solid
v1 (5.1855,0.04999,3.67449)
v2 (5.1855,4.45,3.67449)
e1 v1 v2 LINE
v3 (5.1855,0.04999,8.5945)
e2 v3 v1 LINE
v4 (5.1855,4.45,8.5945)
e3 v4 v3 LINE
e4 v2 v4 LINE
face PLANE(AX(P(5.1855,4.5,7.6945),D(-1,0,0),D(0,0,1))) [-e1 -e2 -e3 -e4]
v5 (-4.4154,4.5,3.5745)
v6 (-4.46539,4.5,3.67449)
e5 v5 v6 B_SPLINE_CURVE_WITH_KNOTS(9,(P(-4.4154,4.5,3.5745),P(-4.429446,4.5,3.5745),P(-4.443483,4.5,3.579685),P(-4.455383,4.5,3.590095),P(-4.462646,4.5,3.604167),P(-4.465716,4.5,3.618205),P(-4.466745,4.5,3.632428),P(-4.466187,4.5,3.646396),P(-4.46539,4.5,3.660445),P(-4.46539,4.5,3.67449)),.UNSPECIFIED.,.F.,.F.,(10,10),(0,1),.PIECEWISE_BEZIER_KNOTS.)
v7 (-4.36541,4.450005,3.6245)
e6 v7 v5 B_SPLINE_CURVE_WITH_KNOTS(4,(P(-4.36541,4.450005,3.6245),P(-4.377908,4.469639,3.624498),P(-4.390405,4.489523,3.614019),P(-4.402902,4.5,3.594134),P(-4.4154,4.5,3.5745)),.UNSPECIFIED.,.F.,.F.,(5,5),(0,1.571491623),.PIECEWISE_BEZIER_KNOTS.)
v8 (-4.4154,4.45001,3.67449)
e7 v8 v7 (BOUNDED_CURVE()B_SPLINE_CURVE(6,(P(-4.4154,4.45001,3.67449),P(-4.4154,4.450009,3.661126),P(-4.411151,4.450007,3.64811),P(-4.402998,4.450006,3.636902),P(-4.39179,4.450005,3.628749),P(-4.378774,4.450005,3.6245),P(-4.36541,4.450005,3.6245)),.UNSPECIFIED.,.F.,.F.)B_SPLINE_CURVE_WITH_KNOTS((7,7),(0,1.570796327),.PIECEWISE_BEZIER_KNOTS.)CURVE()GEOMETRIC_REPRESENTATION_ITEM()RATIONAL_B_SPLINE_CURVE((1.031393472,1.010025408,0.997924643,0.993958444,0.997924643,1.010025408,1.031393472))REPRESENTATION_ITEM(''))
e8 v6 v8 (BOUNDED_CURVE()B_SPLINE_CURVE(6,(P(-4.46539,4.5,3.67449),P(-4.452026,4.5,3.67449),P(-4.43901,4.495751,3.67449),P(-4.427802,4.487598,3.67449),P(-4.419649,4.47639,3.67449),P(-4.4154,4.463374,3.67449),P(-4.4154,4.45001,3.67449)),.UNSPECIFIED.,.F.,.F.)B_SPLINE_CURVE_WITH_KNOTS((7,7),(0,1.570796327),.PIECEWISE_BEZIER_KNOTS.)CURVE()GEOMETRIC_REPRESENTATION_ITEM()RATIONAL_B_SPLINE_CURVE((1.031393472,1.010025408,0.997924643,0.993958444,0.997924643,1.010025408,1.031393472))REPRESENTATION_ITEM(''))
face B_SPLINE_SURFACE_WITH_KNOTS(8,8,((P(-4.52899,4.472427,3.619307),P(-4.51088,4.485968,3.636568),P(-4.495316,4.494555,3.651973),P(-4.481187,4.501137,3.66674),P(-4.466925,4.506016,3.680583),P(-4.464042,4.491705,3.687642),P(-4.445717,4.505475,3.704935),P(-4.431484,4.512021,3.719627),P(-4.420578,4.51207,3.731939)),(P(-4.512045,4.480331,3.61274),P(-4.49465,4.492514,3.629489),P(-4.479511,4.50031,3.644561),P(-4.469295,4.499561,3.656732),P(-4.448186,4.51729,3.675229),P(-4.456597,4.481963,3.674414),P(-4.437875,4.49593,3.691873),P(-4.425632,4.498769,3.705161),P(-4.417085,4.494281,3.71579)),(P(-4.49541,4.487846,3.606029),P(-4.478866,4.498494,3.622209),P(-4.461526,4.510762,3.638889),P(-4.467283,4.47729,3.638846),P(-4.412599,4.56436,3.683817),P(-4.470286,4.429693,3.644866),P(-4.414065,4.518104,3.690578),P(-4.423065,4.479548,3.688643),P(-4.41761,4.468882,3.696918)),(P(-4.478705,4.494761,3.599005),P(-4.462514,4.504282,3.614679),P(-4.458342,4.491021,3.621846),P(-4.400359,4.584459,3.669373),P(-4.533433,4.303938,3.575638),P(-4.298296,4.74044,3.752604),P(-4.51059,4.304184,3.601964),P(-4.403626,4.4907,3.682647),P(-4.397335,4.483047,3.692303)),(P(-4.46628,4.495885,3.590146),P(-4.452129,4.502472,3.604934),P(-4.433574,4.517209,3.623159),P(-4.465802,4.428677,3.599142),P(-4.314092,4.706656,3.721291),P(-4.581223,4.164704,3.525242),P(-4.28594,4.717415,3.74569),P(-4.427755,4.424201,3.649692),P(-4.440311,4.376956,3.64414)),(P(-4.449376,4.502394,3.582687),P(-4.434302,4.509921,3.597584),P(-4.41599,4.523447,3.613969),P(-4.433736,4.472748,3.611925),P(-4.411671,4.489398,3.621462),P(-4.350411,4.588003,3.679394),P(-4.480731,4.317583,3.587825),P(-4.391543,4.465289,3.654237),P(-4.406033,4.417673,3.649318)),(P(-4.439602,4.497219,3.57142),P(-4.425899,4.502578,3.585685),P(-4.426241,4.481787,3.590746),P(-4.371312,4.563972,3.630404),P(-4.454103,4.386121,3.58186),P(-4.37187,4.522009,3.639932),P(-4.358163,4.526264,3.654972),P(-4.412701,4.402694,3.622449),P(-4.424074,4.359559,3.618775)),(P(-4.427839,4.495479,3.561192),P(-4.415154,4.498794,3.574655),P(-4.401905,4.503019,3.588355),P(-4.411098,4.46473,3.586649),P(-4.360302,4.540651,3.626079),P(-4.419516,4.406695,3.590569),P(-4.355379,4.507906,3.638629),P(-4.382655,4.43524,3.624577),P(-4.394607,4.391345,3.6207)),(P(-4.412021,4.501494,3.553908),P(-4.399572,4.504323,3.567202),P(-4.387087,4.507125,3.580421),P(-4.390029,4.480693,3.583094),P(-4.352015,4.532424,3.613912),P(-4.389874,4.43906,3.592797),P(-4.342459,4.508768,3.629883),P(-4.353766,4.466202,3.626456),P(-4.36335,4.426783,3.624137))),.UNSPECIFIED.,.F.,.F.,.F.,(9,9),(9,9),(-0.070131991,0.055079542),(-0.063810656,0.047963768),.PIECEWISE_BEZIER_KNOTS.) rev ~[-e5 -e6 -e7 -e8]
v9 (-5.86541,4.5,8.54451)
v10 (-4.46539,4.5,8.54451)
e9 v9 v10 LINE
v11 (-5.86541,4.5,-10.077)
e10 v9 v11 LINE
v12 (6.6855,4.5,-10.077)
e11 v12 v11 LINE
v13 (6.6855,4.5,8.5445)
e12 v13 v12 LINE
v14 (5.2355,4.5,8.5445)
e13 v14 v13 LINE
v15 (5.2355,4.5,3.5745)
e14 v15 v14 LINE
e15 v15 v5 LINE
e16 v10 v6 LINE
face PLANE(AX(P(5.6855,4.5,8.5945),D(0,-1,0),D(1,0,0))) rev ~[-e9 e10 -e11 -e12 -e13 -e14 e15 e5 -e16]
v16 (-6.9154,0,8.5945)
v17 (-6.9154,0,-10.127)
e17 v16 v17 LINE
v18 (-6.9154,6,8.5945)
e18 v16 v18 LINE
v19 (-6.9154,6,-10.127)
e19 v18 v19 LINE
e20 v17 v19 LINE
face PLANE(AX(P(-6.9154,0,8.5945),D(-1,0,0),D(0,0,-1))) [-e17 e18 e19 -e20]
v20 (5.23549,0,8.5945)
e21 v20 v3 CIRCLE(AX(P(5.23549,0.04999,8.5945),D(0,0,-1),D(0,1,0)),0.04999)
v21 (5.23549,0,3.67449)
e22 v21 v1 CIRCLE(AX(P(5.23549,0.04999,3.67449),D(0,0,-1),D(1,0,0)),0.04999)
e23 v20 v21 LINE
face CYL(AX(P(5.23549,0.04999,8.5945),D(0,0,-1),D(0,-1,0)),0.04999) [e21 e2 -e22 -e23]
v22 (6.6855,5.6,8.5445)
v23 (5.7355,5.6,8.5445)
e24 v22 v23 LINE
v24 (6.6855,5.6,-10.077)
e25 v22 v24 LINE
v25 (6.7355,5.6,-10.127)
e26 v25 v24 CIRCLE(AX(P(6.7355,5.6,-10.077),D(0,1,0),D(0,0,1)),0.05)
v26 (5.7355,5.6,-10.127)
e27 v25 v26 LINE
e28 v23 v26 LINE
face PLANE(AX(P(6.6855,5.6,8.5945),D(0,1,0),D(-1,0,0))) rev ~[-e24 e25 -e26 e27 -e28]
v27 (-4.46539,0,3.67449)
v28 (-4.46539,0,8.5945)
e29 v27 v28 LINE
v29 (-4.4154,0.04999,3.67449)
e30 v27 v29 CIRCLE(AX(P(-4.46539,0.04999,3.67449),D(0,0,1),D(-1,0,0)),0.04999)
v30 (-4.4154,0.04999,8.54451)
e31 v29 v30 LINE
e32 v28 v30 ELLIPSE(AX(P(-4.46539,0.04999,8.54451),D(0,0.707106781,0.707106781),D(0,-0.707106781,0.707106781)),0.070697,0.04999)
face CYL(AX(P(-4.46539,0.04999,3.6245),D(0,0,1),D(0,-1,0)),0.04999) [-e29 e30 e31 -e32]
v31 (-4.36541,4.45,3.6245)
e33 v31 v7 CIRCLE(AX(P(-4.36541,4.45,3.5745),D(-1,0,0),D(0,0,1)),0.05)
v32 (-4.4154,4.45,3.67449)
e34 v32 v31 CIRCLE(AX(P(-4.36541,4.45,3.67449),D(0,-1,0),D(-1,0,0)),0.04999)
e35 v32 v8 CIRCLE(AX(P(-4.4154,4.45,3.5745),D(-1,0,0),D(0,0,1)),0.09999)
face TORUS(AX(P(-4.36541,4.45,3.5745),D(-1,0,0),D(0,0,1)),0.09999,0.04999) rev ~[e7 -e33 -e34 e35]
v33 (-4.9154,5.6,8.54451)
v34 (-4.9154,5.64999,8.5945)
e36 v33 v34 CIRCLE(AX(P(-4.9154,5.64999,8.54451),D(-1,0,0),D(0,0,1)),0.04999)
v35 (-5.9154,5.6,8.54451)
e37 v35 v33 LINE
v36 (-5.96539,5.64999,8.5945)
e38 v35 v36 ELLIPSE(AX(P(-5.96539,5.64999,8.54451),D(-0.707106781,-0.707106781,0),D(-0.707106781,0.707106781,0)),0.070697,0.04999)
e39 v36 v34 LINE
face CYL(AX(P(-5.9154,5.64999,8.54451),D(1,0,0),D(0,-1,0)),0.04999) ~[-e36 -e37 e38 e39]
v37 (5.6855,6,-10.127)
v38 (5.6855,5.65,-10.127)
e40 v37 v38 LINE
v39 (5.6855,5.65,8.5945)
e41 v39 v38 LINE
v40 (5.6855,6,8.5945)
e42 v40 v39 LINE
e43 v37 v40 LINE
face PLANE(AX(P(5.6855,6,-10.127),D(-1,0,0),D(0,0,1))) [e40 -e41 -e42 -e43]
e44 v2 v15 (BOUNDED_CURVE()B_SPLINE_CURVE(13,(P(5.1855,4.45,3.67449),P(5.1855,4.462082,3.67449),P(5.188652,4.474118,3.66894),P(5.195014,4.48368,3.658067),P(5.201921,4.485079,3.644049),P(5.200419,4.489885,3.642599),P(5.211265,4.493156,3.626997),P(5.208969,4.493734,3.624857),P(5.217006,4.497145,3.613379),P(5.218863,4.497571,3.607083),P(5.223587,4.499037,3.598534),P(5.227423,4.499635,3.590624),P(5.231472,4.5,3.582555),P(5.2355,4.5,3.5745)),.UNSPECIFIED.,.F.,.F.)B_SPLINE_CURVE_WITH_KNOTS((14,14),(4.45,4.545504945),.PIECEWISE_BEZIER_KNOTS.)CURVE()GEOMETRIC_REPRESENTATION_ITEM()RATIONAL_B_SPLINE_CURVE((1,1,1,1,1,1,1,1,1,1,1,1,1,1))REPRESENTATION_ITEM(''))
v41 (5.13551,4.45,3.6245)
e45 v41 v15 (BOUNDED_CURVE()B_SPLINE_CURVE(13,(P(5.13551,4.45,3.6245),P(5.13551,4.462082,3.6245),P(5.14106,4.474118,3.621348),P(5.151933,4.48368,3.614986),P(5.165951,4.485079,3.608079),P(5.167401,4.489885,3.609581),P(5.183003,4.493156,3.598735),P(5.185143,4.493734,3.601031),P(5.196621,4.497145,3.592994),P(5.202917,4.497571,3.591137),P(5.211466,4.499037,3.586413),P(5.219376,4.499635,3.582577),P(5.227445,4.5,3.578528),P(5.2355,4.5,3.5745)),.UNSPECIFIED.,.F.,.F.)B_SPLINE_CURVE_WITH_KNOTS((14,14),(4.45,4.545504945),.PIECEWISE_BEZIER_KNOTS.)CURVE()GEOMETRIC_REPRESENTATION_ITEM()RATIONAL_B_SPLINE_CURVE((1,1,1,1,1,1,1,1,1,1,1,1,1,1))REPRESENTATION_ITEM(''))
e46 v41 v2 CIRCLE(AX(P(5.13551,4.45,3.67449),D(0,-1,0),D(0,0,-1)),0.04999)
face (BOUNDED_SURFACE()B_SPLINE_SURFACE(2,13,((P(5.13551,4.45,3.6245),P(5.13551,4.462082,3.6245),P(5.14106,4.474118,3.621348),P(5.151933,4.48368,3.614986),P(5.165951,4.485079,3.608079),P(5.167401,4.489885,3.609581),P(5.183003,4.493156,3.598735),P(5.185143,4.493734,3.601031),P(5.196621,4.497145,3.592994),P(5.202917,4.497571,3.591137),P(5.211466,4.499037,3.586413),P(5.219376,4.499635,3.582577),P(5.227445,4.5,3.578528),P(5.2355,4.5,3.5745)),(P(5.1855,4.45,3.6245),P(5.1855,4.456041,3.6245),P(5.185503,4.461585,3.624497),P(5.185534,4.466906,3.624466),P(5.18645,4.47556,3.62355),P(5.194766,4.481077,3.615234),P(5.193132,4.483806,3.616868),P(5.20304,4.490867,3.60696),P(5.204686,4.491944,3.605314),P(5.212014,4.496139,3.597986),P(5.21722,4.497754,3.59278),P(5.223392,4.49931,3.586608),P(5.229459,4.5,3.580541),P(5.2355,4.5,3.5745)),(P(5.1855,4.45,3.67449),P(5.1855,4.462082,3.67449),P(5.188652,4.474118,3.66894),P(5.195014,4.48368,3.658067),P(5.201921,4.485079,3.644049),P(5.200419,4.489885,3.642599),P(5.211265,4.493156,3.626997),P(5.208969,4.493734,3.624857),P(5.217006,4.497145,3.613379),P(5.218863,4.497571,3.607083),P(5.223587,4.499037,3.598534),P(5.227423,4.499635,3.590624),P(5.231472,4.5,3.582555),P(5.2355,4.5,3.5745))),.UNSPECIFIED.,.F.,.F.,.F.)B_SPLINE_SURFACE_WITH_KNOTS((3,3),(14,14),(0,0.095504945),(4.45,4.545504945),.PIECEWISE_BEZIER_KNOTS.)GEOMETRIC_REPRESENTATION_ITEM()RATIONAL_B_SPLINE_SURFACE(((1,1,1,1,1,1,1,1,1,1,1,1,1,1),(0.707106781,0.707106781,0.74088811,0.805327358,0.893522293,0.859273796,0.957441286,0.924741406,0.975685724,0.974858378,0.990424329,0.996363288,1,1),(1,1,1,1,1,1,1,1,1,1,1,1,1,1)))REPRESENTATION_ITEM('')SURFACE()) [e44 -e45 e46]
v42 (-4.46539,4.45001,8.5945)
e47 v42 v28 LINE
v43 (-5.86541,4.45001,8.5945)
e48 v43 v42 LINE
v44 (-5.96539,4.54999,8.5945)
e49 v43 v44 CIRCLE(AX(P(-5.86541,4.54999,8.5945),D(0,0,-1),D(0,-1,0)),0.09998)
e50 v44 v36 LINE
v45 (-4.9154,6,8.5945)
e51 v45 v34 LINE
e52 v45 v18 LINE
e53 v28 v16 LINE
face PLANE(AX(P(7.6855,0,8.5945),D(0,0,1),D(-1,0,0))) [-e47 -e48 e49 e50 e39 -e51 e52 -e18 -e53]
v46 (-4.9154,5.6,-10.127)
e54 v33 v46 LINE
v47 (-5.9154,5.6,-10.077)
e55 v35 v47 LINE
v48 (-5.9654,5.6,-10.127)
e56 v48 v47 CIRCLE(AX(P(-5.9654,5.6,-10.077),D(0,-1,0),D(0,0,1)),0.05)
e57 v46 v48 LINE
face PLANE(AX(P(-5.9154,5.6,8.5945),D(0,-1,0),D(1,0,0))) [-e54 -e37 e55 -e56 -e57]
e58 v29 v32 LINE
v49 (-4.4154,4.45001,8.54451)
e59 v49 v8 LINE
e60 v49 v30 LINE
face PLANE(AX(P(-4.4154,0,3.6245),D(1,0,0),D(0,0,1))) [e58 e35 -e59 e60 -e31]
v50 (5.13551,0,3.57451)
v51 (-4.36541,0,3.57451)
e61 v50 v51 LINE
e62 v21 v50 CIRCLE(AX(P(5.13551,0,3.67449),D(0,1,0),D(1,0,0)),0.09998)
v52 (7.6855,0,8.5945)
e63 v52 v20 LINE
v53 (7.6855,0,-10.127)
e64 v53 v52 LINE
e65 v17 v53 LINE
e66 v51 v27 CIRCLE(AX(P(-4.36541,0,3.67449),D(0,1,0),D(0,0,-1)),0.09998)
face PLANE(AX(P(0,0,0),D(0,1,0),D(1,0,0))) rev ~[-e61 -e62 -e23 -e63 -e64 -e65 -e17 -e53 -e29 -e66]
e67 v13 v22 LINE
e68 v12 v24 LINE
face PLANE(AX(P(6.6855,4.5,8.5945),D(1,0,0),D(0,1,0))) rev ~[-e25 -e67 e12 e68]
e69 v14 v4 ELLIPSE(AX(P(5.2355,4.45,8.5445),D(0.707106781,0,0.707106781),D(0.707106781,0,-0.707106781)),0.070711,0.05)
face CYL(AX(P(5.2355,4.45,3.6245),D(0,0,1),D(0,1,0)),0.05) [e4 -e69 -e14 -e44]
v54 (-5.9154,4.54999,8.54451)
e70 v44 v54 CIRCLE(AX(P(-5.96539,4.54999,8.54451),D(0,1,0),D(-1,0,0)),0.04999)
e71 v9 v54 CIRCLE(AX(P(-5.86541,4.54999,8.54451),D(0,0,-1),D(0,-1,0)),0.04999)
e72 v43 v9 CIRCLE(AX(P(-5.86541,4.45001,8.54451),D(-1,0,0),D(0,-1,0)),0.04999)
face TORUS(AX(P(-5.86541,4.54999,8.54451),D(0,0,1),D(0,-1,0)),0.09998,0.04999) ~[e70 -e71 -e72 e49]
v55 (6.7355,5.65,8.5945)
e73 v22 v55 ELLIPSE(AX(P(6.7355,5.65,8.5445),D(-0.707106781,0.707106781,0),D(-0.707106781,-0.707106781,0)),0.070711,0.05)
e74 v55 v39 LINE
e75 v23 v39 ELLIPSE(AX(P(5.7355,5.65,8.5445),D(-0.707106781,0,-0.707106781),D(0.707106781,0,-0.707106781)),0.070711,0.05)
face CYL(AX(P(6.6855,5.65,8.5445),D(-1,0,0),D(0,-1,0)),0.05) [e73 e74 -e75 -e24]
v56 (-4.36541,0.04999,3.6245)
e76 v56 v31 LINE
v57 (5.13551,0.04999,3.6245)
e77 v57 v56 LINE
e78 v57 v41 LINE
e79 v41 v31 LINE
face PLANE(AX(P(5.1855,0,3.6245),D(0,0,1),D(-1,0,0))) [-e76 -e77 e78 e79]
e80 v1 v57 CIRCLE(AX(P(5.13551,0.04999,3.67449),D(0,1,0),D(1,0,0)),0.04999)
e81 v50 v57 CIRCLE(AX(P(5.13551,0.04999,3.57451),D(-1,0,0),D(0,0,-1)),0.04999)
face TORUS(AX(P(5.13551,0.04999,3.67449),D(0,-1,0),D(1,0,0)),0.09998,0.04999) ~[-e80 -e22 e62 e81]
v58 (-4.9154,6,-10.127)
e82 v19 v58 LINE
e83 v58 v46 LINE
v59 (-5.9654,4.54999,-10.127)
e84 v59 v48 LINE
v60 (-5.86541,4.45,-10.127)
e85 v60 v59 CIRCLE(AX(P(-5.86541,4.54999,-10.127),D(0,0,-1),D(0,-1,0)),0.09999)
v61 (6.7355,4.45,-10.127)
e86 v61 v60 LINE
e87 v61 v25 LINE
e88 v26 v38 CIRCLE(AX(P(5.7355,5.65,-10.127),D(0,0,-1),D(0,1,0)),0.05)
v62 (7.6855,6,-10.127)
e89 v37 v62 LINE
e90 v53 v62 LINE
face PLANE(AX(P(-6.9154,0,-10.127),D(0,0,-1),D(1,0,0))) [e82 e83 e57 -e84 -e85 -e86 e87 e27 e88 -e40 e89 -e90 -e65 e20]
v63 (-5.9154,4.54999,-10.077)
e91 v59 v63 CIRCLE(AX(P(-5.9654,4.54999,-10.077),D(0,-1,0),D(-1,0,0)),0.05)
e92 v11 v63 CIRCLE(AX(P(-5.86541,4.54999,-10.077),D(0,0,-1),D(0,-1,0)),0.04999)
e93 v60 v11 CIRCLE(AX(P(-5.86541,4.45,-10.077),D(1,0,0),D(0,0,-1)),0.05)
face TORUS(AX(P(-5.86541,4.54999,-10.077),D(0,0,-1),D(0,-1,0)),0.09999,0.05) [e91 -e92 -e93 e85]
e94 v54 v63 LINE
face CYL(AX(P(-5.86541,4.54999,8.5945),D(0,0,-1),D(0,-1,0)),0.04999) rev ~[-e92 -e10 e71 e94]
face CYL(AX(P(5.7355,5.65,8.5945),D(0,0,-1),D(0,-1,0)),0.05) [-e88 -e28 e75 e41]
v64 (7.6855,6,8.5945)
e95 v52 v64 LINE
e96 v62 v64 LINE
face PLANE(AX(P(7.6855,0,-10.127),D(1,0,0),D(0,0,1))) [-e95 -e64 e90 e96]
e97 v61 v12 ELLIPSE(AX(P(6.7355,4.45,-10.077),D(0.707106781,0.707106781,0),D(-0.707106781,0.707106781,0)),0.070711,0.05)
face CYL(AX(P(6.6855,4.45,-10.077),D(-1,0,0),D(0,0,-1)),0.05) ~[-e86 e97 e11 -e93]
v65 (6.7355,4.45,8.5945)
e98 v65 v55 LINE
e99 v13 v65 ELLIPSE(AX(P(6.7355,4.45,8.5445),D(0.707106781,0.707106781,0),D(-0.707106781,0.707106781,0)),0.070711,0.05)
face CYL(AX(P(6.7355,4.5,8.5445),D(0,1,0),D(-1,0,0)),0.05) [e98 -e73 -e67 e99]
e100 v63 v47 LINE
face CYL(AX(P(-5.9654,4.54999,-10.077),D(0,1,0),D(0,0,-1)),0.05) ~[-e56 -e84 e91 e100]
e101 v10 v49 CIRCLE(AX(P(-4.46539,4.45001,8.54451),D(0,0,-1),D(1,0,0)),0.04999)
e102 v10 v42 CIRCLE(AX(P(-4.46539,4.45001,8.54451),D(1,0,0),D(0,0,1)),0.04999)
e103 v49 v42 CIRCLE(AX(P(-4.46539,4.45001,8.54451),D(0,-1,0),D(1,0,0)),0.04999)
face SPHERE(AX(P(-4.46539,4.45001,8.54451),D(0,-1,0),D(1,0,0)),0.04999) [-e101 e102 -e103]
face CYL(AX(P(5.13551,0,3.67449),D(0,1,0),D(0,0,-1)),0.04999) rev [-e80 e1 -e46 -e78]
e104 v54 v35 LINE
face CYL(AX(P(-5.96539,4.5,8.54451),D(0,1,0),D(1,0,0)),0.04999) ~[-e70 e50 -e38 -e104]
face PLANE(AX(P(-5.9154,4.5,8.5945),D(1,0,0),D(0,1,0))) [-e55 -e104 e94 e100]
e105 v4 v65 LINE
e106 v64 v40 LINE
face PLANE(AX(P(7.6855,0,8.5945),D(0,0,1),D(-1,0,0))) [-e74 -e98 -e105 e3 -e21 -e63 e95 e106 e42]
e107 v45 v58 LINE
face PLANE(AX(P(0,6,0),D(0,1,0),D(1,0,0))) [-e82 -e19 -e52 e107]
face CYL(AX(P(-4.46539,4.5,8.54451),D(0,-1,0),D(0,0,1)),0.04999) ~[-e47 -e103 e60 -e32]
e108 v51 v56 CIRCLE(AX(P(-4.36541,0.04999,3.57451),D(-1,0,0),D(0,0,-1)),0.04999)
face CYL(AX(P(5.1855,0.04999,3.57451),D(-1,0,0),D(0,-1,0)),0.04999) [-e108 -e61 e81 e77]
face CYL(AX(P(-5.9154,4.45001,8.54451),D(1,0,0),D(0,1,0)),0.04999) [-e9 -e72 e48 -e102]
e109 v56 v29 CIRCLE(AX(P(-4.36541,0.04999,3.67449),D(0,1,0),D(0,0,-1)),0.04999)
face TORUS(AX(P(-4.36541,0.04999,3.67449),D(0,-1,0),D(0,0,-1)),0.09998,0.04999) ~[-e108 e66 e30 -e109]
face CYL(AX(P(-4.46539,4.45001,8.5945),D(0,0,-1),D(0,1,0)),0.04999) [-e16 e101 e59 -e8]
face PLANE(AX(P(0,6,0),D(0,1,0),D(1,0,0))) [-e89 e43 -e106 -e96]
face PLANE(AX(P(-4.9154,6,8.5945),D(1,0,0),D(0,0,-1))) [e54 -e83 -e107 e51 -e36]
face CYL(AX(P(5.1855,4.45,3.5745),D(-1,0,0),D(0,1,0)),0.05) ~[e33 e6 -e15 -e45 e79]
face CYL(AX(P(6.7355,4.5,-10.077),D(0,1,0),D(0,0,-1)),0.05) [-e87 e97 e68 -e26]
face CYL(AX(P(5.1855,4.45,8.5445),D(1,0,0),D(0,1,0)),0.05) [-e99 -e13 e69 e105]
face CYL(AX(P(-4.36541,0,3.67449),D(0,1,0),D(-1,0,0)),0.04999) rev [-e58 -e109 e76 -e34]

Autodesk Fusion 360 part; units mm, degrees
sketch "Sketch1" plane through (0, 0, 0) normal (0, 1, 0) x (1, 0, 0)
  line L0 (-6.9154, 10.127) -> (7.6855, 10.127)
  line L1 (7.6855, 10.127) -> (7.6855, -8.5945)
  line L2 (7.6855, -8.5945) -> (-6.9154, -8.5945)
  line L3 (-6.9154, -8.5945) -> (-6.9154, 10.127)
extrude "Extrude1" add sketch "Sketch1" along normal blind 6
sketch "Sketch2" plane through (0, 0, 0) normal (0, -1, 0) x (1, 0, 0)
  line L0 (7.6855, 8.5945) -> (-6.9154, 8.5945)
  line L1 (-6.9154, 8.5945) -> (-6.9154, -10.127)
  line L2 (-6.9154, -10.127) -> (7.6855, -10.127)
  line L3 (7.6855, -10.127) -> (7.6855, 8.5945)
  line L4 (-6.9154, 8.5945) -> (-4.4154, 8.5945)
  line L5 (7.6855, 8.5945) -> (5.1855, 8.5945)
  line L6 (-4.4154, 8.5945) -> (-4.4154, 7.6945)
  line L7 (5.1855, 8.5945) -> (5.1855, 7.6945)
  line L8 (5.1855, 7.6945) -> (5.1855, 3.6245)
  line L9 (-4.4154, 7.6945) -> (5.1855, 7.6945)
  line L10 (5.1855, 7.6945) -> (5.1855, 3.6245)
  line L11 (5.1855, 3.6245) -> (-4.4154, 3.6245)
  line L12 (-4.4154, 3.6245) -> (-4.4154, 7.6945)
  dimension "d3" = 2.5
  dimension "d4" = 2.5
  dimension "d5" = 0.9
  dimension "d6" = 0.9
  dimension "d7" = 4.07
extrude "Extrude2" cut sketch "Sketch2" against normal blind 4.5 contours L8 L9 L10 L11 L12
sketch "Sketch3" plane through (-6.9154, 0, 0) normal (-1, 0, 0) x (0, 0, 1)
  line L0 (-10.127, 0) -> (8.5945, 0)
  line L1 (8.5945, 0) -> (8.5945, 6)
  line L2 (8.5945, 6) -> (-10.127, 6)
  line L3 (-10.127, 6) -> (-10.127, 0)
  line L4 (8.5945, 0) -> (3.6345, 0)
  line L5 (8.5945, 0) -> (7.6945, 0)
  line L6 (7.6945, 0) -> (7.6945, 4.5)
  line L7 (3.6345, 0) -> (3.6245, 4.5)
  dimension "d10" = 4.96
  dimension "d11" = 0.9
  dimension "d12" = 4.5
sketch "Sketch4" plane through (0, 6, 0) normal (0, 1, 0) x (-1, 0, 0)
  line L0 (6.9154, 8.5945) -> (-7.6855, 8.5945)
  line L1 (-7.6855, 8.5945) -> (-7.6855, -10.127)
  line L2 (-7.6855, -10.127) -> (6.9154, -10.127)
  line L3 (6.9154, -10.127) -> (6.9154, 8.5945)
  line L4 (6.9154, 8.5945) -> (4.9154, 8.5945)
  line L5 (-7.6855, 8.5945) -> (-5.6855, 8.5945)
  line L6 (6.9154, -10.127) -> (4.9154, -10.127)
  line L7 (-7.6855, -10.127) -> (-5.6855, -10.127)
  line L8 (4.9154, -10.127) -> (-5.6855, -10.127)
  line L9 (-5.6855, -10.127) -> (-5.6855, 8.5945)
  line L10 (-5.6855, 8.5945) -> (4.9154, 8.5945)
  line L11 (4.9154, 8.5945) -> (4.9154, -10.127)
  dimension "d13" = 2
  dimension "d14" = 2
  dimension "d15" = 2
  dimension "d16" = 2
extrude "Extrude3" cut sketch "Sketch4" against normal up to surface (1.5 mm away) contours L0 L2 L8 L9 L10 L11
sketch "Sketch5" plane through (0, 0, 8.5945) normal (0, 0, 1) x (1, 0, 0)
  line L0 (-4.9154, 4.5) -> (-4.9154, 6)
  line L1 (-4.9154, 6) -> (-6.9154, 6)
  line L2 (-6.9154, 6) -> (-6.9154, 0)
  line L3 (-6.9154, 0) -> (7.6855, 0)
  line L4 (7.6855, 0) -> (7.6855, 6)
  line L5 (7.6855, 6) -> (5.6855, 6)
  line L6 (5.6855, 6) -> (5.6855, 4.5)
  line L7 (5.6855, 4.5) -> (-4.9154, 4.5)
  line L8 (-4.9154, 4.5) -> (-5.9154, 4.5)
  line L9 (5.6855, 4.5) -> (6.6855, 4.5)
  line L10 (-5.9154, 4.5) -> (-5.9154, 5.6)
  line L11 (6.6855, 4.5) -> (6.6855, 5.6)
  line L12 (-4.9154, 4.5) -> (-5.9154, 4.5)
  line L13 (-5.9154, 4.5) -> (-5.9154, 5.6)
  line L14 (-5.9154, 5.6) -> (-4.9154, 5.6)
  line L15 (-4.9154, 5.6) -> (-4.9154, 4.5)
  line L16 (5.6855, 4.5) -> (6.6855, 4.5)
  line L17 (6.6855, 4.5) -> (6.6855, 5.6)
  line L18 (6.6855, 5.6) -> (5.6855, 5.6)
  line L19 (5.6855, 5.6) -> (5.6855, 4.5)
  dimension "d19" = 1
  dimension "d20" = 1
  dimension "d21" = 1.1
  dimension "d22" = 1.1
extrude "Extrude5" cut sketch "Sketch5" against normal up to surface (18.7215 mm away) contours L6 L9 L11 L16 L17 L18 L19
extrude "Extrude4" cut sketch "Sketch5" against normal up to surface (18.7215 mm away) contours L0 L8 L10 L12 L13 L14 L15
sketch "Sketch6" plane through (0, 4.5, 0) normal (0, 1, 0) x (-1, 0, 0)
  line L0 (-5.1855, 3.6245) -> (-5.1855, 7.6945)
  line L1 (-5.1855, 7.6945) -> (4.4154, 7.6945)
  line L2 (4.4154, 7.6945) -> (4.4154, 3.6245)
  line L3 (4.4154, 3.6245) -> (-5.1855, 3.6245)
  line L4 (-6.6855, -10.127) -> (5.9154, -10.127)
  line L5 (5.9154, -10.127) -> (5.9154, 8.5945)
  line L6 (5.9154, 8.5945) -> (-6.6855, 8.5945)
  line L7 (-6.6855, 8.5945) -> (-6.6855, -10.127)
  line L8 (4.4154, 7.6945) -> (-5.1855, 7.6945)
  line L9 (-5.1855, 7.6945) -> (-5.1855, 8.5945)
  line L10 (-5.1855, 8.5945) -> (4.4154, 8.5945)
  line L11 (4.4154, 8.5945) -> (4.4154, 7.6945)
extrude "Extrude6" cut sketch "Sketch6" against normal up to surface (4.5 mm away) contours L1 L6 L8 L9 L10 L11
fillet "Fillet1" radius 0.05 6 edges at (5.6855, 5.6, -0.7662) (6.1855, 5.6, 8.5945) (6.6855, 5.05, 8.5945) (5.9355, 4.5, 8.5945) (5.1855, 4.5, 6.1095) (0.3851, 4.5, 3.6245)
fillet "Fillet2" radius 0.05 13 edges at (-4.4154, 2.225, 3.6245) (-4.4154, 4.4854, 3.6099) (-4.4154, 2.25, 8.5945) (0.3851, 0, 3.6245) (5.1855, 2.225, 3.6245) (5.2001, 4.4854, 3.6099) (5.1855, 0, 6.1095) (-4.4154, 0, 6.1095) (-4.4154, 4.5, 6.0845) (-5.1654, 4.5, 8.5945) (-5.9154, 5.05, 8.5945) (-5.4154, 5.6, 8.5945) (-5.9154, 4.5, -0.7662)
fillet "Fillet3" radius 0.05 4 edges at (6.6855, 5.05, -10.127) (-5.9154, 5.075, -10.127) (-5.9007, 4.5146, -10.127) (0.4101, 4.5, -10.127)
